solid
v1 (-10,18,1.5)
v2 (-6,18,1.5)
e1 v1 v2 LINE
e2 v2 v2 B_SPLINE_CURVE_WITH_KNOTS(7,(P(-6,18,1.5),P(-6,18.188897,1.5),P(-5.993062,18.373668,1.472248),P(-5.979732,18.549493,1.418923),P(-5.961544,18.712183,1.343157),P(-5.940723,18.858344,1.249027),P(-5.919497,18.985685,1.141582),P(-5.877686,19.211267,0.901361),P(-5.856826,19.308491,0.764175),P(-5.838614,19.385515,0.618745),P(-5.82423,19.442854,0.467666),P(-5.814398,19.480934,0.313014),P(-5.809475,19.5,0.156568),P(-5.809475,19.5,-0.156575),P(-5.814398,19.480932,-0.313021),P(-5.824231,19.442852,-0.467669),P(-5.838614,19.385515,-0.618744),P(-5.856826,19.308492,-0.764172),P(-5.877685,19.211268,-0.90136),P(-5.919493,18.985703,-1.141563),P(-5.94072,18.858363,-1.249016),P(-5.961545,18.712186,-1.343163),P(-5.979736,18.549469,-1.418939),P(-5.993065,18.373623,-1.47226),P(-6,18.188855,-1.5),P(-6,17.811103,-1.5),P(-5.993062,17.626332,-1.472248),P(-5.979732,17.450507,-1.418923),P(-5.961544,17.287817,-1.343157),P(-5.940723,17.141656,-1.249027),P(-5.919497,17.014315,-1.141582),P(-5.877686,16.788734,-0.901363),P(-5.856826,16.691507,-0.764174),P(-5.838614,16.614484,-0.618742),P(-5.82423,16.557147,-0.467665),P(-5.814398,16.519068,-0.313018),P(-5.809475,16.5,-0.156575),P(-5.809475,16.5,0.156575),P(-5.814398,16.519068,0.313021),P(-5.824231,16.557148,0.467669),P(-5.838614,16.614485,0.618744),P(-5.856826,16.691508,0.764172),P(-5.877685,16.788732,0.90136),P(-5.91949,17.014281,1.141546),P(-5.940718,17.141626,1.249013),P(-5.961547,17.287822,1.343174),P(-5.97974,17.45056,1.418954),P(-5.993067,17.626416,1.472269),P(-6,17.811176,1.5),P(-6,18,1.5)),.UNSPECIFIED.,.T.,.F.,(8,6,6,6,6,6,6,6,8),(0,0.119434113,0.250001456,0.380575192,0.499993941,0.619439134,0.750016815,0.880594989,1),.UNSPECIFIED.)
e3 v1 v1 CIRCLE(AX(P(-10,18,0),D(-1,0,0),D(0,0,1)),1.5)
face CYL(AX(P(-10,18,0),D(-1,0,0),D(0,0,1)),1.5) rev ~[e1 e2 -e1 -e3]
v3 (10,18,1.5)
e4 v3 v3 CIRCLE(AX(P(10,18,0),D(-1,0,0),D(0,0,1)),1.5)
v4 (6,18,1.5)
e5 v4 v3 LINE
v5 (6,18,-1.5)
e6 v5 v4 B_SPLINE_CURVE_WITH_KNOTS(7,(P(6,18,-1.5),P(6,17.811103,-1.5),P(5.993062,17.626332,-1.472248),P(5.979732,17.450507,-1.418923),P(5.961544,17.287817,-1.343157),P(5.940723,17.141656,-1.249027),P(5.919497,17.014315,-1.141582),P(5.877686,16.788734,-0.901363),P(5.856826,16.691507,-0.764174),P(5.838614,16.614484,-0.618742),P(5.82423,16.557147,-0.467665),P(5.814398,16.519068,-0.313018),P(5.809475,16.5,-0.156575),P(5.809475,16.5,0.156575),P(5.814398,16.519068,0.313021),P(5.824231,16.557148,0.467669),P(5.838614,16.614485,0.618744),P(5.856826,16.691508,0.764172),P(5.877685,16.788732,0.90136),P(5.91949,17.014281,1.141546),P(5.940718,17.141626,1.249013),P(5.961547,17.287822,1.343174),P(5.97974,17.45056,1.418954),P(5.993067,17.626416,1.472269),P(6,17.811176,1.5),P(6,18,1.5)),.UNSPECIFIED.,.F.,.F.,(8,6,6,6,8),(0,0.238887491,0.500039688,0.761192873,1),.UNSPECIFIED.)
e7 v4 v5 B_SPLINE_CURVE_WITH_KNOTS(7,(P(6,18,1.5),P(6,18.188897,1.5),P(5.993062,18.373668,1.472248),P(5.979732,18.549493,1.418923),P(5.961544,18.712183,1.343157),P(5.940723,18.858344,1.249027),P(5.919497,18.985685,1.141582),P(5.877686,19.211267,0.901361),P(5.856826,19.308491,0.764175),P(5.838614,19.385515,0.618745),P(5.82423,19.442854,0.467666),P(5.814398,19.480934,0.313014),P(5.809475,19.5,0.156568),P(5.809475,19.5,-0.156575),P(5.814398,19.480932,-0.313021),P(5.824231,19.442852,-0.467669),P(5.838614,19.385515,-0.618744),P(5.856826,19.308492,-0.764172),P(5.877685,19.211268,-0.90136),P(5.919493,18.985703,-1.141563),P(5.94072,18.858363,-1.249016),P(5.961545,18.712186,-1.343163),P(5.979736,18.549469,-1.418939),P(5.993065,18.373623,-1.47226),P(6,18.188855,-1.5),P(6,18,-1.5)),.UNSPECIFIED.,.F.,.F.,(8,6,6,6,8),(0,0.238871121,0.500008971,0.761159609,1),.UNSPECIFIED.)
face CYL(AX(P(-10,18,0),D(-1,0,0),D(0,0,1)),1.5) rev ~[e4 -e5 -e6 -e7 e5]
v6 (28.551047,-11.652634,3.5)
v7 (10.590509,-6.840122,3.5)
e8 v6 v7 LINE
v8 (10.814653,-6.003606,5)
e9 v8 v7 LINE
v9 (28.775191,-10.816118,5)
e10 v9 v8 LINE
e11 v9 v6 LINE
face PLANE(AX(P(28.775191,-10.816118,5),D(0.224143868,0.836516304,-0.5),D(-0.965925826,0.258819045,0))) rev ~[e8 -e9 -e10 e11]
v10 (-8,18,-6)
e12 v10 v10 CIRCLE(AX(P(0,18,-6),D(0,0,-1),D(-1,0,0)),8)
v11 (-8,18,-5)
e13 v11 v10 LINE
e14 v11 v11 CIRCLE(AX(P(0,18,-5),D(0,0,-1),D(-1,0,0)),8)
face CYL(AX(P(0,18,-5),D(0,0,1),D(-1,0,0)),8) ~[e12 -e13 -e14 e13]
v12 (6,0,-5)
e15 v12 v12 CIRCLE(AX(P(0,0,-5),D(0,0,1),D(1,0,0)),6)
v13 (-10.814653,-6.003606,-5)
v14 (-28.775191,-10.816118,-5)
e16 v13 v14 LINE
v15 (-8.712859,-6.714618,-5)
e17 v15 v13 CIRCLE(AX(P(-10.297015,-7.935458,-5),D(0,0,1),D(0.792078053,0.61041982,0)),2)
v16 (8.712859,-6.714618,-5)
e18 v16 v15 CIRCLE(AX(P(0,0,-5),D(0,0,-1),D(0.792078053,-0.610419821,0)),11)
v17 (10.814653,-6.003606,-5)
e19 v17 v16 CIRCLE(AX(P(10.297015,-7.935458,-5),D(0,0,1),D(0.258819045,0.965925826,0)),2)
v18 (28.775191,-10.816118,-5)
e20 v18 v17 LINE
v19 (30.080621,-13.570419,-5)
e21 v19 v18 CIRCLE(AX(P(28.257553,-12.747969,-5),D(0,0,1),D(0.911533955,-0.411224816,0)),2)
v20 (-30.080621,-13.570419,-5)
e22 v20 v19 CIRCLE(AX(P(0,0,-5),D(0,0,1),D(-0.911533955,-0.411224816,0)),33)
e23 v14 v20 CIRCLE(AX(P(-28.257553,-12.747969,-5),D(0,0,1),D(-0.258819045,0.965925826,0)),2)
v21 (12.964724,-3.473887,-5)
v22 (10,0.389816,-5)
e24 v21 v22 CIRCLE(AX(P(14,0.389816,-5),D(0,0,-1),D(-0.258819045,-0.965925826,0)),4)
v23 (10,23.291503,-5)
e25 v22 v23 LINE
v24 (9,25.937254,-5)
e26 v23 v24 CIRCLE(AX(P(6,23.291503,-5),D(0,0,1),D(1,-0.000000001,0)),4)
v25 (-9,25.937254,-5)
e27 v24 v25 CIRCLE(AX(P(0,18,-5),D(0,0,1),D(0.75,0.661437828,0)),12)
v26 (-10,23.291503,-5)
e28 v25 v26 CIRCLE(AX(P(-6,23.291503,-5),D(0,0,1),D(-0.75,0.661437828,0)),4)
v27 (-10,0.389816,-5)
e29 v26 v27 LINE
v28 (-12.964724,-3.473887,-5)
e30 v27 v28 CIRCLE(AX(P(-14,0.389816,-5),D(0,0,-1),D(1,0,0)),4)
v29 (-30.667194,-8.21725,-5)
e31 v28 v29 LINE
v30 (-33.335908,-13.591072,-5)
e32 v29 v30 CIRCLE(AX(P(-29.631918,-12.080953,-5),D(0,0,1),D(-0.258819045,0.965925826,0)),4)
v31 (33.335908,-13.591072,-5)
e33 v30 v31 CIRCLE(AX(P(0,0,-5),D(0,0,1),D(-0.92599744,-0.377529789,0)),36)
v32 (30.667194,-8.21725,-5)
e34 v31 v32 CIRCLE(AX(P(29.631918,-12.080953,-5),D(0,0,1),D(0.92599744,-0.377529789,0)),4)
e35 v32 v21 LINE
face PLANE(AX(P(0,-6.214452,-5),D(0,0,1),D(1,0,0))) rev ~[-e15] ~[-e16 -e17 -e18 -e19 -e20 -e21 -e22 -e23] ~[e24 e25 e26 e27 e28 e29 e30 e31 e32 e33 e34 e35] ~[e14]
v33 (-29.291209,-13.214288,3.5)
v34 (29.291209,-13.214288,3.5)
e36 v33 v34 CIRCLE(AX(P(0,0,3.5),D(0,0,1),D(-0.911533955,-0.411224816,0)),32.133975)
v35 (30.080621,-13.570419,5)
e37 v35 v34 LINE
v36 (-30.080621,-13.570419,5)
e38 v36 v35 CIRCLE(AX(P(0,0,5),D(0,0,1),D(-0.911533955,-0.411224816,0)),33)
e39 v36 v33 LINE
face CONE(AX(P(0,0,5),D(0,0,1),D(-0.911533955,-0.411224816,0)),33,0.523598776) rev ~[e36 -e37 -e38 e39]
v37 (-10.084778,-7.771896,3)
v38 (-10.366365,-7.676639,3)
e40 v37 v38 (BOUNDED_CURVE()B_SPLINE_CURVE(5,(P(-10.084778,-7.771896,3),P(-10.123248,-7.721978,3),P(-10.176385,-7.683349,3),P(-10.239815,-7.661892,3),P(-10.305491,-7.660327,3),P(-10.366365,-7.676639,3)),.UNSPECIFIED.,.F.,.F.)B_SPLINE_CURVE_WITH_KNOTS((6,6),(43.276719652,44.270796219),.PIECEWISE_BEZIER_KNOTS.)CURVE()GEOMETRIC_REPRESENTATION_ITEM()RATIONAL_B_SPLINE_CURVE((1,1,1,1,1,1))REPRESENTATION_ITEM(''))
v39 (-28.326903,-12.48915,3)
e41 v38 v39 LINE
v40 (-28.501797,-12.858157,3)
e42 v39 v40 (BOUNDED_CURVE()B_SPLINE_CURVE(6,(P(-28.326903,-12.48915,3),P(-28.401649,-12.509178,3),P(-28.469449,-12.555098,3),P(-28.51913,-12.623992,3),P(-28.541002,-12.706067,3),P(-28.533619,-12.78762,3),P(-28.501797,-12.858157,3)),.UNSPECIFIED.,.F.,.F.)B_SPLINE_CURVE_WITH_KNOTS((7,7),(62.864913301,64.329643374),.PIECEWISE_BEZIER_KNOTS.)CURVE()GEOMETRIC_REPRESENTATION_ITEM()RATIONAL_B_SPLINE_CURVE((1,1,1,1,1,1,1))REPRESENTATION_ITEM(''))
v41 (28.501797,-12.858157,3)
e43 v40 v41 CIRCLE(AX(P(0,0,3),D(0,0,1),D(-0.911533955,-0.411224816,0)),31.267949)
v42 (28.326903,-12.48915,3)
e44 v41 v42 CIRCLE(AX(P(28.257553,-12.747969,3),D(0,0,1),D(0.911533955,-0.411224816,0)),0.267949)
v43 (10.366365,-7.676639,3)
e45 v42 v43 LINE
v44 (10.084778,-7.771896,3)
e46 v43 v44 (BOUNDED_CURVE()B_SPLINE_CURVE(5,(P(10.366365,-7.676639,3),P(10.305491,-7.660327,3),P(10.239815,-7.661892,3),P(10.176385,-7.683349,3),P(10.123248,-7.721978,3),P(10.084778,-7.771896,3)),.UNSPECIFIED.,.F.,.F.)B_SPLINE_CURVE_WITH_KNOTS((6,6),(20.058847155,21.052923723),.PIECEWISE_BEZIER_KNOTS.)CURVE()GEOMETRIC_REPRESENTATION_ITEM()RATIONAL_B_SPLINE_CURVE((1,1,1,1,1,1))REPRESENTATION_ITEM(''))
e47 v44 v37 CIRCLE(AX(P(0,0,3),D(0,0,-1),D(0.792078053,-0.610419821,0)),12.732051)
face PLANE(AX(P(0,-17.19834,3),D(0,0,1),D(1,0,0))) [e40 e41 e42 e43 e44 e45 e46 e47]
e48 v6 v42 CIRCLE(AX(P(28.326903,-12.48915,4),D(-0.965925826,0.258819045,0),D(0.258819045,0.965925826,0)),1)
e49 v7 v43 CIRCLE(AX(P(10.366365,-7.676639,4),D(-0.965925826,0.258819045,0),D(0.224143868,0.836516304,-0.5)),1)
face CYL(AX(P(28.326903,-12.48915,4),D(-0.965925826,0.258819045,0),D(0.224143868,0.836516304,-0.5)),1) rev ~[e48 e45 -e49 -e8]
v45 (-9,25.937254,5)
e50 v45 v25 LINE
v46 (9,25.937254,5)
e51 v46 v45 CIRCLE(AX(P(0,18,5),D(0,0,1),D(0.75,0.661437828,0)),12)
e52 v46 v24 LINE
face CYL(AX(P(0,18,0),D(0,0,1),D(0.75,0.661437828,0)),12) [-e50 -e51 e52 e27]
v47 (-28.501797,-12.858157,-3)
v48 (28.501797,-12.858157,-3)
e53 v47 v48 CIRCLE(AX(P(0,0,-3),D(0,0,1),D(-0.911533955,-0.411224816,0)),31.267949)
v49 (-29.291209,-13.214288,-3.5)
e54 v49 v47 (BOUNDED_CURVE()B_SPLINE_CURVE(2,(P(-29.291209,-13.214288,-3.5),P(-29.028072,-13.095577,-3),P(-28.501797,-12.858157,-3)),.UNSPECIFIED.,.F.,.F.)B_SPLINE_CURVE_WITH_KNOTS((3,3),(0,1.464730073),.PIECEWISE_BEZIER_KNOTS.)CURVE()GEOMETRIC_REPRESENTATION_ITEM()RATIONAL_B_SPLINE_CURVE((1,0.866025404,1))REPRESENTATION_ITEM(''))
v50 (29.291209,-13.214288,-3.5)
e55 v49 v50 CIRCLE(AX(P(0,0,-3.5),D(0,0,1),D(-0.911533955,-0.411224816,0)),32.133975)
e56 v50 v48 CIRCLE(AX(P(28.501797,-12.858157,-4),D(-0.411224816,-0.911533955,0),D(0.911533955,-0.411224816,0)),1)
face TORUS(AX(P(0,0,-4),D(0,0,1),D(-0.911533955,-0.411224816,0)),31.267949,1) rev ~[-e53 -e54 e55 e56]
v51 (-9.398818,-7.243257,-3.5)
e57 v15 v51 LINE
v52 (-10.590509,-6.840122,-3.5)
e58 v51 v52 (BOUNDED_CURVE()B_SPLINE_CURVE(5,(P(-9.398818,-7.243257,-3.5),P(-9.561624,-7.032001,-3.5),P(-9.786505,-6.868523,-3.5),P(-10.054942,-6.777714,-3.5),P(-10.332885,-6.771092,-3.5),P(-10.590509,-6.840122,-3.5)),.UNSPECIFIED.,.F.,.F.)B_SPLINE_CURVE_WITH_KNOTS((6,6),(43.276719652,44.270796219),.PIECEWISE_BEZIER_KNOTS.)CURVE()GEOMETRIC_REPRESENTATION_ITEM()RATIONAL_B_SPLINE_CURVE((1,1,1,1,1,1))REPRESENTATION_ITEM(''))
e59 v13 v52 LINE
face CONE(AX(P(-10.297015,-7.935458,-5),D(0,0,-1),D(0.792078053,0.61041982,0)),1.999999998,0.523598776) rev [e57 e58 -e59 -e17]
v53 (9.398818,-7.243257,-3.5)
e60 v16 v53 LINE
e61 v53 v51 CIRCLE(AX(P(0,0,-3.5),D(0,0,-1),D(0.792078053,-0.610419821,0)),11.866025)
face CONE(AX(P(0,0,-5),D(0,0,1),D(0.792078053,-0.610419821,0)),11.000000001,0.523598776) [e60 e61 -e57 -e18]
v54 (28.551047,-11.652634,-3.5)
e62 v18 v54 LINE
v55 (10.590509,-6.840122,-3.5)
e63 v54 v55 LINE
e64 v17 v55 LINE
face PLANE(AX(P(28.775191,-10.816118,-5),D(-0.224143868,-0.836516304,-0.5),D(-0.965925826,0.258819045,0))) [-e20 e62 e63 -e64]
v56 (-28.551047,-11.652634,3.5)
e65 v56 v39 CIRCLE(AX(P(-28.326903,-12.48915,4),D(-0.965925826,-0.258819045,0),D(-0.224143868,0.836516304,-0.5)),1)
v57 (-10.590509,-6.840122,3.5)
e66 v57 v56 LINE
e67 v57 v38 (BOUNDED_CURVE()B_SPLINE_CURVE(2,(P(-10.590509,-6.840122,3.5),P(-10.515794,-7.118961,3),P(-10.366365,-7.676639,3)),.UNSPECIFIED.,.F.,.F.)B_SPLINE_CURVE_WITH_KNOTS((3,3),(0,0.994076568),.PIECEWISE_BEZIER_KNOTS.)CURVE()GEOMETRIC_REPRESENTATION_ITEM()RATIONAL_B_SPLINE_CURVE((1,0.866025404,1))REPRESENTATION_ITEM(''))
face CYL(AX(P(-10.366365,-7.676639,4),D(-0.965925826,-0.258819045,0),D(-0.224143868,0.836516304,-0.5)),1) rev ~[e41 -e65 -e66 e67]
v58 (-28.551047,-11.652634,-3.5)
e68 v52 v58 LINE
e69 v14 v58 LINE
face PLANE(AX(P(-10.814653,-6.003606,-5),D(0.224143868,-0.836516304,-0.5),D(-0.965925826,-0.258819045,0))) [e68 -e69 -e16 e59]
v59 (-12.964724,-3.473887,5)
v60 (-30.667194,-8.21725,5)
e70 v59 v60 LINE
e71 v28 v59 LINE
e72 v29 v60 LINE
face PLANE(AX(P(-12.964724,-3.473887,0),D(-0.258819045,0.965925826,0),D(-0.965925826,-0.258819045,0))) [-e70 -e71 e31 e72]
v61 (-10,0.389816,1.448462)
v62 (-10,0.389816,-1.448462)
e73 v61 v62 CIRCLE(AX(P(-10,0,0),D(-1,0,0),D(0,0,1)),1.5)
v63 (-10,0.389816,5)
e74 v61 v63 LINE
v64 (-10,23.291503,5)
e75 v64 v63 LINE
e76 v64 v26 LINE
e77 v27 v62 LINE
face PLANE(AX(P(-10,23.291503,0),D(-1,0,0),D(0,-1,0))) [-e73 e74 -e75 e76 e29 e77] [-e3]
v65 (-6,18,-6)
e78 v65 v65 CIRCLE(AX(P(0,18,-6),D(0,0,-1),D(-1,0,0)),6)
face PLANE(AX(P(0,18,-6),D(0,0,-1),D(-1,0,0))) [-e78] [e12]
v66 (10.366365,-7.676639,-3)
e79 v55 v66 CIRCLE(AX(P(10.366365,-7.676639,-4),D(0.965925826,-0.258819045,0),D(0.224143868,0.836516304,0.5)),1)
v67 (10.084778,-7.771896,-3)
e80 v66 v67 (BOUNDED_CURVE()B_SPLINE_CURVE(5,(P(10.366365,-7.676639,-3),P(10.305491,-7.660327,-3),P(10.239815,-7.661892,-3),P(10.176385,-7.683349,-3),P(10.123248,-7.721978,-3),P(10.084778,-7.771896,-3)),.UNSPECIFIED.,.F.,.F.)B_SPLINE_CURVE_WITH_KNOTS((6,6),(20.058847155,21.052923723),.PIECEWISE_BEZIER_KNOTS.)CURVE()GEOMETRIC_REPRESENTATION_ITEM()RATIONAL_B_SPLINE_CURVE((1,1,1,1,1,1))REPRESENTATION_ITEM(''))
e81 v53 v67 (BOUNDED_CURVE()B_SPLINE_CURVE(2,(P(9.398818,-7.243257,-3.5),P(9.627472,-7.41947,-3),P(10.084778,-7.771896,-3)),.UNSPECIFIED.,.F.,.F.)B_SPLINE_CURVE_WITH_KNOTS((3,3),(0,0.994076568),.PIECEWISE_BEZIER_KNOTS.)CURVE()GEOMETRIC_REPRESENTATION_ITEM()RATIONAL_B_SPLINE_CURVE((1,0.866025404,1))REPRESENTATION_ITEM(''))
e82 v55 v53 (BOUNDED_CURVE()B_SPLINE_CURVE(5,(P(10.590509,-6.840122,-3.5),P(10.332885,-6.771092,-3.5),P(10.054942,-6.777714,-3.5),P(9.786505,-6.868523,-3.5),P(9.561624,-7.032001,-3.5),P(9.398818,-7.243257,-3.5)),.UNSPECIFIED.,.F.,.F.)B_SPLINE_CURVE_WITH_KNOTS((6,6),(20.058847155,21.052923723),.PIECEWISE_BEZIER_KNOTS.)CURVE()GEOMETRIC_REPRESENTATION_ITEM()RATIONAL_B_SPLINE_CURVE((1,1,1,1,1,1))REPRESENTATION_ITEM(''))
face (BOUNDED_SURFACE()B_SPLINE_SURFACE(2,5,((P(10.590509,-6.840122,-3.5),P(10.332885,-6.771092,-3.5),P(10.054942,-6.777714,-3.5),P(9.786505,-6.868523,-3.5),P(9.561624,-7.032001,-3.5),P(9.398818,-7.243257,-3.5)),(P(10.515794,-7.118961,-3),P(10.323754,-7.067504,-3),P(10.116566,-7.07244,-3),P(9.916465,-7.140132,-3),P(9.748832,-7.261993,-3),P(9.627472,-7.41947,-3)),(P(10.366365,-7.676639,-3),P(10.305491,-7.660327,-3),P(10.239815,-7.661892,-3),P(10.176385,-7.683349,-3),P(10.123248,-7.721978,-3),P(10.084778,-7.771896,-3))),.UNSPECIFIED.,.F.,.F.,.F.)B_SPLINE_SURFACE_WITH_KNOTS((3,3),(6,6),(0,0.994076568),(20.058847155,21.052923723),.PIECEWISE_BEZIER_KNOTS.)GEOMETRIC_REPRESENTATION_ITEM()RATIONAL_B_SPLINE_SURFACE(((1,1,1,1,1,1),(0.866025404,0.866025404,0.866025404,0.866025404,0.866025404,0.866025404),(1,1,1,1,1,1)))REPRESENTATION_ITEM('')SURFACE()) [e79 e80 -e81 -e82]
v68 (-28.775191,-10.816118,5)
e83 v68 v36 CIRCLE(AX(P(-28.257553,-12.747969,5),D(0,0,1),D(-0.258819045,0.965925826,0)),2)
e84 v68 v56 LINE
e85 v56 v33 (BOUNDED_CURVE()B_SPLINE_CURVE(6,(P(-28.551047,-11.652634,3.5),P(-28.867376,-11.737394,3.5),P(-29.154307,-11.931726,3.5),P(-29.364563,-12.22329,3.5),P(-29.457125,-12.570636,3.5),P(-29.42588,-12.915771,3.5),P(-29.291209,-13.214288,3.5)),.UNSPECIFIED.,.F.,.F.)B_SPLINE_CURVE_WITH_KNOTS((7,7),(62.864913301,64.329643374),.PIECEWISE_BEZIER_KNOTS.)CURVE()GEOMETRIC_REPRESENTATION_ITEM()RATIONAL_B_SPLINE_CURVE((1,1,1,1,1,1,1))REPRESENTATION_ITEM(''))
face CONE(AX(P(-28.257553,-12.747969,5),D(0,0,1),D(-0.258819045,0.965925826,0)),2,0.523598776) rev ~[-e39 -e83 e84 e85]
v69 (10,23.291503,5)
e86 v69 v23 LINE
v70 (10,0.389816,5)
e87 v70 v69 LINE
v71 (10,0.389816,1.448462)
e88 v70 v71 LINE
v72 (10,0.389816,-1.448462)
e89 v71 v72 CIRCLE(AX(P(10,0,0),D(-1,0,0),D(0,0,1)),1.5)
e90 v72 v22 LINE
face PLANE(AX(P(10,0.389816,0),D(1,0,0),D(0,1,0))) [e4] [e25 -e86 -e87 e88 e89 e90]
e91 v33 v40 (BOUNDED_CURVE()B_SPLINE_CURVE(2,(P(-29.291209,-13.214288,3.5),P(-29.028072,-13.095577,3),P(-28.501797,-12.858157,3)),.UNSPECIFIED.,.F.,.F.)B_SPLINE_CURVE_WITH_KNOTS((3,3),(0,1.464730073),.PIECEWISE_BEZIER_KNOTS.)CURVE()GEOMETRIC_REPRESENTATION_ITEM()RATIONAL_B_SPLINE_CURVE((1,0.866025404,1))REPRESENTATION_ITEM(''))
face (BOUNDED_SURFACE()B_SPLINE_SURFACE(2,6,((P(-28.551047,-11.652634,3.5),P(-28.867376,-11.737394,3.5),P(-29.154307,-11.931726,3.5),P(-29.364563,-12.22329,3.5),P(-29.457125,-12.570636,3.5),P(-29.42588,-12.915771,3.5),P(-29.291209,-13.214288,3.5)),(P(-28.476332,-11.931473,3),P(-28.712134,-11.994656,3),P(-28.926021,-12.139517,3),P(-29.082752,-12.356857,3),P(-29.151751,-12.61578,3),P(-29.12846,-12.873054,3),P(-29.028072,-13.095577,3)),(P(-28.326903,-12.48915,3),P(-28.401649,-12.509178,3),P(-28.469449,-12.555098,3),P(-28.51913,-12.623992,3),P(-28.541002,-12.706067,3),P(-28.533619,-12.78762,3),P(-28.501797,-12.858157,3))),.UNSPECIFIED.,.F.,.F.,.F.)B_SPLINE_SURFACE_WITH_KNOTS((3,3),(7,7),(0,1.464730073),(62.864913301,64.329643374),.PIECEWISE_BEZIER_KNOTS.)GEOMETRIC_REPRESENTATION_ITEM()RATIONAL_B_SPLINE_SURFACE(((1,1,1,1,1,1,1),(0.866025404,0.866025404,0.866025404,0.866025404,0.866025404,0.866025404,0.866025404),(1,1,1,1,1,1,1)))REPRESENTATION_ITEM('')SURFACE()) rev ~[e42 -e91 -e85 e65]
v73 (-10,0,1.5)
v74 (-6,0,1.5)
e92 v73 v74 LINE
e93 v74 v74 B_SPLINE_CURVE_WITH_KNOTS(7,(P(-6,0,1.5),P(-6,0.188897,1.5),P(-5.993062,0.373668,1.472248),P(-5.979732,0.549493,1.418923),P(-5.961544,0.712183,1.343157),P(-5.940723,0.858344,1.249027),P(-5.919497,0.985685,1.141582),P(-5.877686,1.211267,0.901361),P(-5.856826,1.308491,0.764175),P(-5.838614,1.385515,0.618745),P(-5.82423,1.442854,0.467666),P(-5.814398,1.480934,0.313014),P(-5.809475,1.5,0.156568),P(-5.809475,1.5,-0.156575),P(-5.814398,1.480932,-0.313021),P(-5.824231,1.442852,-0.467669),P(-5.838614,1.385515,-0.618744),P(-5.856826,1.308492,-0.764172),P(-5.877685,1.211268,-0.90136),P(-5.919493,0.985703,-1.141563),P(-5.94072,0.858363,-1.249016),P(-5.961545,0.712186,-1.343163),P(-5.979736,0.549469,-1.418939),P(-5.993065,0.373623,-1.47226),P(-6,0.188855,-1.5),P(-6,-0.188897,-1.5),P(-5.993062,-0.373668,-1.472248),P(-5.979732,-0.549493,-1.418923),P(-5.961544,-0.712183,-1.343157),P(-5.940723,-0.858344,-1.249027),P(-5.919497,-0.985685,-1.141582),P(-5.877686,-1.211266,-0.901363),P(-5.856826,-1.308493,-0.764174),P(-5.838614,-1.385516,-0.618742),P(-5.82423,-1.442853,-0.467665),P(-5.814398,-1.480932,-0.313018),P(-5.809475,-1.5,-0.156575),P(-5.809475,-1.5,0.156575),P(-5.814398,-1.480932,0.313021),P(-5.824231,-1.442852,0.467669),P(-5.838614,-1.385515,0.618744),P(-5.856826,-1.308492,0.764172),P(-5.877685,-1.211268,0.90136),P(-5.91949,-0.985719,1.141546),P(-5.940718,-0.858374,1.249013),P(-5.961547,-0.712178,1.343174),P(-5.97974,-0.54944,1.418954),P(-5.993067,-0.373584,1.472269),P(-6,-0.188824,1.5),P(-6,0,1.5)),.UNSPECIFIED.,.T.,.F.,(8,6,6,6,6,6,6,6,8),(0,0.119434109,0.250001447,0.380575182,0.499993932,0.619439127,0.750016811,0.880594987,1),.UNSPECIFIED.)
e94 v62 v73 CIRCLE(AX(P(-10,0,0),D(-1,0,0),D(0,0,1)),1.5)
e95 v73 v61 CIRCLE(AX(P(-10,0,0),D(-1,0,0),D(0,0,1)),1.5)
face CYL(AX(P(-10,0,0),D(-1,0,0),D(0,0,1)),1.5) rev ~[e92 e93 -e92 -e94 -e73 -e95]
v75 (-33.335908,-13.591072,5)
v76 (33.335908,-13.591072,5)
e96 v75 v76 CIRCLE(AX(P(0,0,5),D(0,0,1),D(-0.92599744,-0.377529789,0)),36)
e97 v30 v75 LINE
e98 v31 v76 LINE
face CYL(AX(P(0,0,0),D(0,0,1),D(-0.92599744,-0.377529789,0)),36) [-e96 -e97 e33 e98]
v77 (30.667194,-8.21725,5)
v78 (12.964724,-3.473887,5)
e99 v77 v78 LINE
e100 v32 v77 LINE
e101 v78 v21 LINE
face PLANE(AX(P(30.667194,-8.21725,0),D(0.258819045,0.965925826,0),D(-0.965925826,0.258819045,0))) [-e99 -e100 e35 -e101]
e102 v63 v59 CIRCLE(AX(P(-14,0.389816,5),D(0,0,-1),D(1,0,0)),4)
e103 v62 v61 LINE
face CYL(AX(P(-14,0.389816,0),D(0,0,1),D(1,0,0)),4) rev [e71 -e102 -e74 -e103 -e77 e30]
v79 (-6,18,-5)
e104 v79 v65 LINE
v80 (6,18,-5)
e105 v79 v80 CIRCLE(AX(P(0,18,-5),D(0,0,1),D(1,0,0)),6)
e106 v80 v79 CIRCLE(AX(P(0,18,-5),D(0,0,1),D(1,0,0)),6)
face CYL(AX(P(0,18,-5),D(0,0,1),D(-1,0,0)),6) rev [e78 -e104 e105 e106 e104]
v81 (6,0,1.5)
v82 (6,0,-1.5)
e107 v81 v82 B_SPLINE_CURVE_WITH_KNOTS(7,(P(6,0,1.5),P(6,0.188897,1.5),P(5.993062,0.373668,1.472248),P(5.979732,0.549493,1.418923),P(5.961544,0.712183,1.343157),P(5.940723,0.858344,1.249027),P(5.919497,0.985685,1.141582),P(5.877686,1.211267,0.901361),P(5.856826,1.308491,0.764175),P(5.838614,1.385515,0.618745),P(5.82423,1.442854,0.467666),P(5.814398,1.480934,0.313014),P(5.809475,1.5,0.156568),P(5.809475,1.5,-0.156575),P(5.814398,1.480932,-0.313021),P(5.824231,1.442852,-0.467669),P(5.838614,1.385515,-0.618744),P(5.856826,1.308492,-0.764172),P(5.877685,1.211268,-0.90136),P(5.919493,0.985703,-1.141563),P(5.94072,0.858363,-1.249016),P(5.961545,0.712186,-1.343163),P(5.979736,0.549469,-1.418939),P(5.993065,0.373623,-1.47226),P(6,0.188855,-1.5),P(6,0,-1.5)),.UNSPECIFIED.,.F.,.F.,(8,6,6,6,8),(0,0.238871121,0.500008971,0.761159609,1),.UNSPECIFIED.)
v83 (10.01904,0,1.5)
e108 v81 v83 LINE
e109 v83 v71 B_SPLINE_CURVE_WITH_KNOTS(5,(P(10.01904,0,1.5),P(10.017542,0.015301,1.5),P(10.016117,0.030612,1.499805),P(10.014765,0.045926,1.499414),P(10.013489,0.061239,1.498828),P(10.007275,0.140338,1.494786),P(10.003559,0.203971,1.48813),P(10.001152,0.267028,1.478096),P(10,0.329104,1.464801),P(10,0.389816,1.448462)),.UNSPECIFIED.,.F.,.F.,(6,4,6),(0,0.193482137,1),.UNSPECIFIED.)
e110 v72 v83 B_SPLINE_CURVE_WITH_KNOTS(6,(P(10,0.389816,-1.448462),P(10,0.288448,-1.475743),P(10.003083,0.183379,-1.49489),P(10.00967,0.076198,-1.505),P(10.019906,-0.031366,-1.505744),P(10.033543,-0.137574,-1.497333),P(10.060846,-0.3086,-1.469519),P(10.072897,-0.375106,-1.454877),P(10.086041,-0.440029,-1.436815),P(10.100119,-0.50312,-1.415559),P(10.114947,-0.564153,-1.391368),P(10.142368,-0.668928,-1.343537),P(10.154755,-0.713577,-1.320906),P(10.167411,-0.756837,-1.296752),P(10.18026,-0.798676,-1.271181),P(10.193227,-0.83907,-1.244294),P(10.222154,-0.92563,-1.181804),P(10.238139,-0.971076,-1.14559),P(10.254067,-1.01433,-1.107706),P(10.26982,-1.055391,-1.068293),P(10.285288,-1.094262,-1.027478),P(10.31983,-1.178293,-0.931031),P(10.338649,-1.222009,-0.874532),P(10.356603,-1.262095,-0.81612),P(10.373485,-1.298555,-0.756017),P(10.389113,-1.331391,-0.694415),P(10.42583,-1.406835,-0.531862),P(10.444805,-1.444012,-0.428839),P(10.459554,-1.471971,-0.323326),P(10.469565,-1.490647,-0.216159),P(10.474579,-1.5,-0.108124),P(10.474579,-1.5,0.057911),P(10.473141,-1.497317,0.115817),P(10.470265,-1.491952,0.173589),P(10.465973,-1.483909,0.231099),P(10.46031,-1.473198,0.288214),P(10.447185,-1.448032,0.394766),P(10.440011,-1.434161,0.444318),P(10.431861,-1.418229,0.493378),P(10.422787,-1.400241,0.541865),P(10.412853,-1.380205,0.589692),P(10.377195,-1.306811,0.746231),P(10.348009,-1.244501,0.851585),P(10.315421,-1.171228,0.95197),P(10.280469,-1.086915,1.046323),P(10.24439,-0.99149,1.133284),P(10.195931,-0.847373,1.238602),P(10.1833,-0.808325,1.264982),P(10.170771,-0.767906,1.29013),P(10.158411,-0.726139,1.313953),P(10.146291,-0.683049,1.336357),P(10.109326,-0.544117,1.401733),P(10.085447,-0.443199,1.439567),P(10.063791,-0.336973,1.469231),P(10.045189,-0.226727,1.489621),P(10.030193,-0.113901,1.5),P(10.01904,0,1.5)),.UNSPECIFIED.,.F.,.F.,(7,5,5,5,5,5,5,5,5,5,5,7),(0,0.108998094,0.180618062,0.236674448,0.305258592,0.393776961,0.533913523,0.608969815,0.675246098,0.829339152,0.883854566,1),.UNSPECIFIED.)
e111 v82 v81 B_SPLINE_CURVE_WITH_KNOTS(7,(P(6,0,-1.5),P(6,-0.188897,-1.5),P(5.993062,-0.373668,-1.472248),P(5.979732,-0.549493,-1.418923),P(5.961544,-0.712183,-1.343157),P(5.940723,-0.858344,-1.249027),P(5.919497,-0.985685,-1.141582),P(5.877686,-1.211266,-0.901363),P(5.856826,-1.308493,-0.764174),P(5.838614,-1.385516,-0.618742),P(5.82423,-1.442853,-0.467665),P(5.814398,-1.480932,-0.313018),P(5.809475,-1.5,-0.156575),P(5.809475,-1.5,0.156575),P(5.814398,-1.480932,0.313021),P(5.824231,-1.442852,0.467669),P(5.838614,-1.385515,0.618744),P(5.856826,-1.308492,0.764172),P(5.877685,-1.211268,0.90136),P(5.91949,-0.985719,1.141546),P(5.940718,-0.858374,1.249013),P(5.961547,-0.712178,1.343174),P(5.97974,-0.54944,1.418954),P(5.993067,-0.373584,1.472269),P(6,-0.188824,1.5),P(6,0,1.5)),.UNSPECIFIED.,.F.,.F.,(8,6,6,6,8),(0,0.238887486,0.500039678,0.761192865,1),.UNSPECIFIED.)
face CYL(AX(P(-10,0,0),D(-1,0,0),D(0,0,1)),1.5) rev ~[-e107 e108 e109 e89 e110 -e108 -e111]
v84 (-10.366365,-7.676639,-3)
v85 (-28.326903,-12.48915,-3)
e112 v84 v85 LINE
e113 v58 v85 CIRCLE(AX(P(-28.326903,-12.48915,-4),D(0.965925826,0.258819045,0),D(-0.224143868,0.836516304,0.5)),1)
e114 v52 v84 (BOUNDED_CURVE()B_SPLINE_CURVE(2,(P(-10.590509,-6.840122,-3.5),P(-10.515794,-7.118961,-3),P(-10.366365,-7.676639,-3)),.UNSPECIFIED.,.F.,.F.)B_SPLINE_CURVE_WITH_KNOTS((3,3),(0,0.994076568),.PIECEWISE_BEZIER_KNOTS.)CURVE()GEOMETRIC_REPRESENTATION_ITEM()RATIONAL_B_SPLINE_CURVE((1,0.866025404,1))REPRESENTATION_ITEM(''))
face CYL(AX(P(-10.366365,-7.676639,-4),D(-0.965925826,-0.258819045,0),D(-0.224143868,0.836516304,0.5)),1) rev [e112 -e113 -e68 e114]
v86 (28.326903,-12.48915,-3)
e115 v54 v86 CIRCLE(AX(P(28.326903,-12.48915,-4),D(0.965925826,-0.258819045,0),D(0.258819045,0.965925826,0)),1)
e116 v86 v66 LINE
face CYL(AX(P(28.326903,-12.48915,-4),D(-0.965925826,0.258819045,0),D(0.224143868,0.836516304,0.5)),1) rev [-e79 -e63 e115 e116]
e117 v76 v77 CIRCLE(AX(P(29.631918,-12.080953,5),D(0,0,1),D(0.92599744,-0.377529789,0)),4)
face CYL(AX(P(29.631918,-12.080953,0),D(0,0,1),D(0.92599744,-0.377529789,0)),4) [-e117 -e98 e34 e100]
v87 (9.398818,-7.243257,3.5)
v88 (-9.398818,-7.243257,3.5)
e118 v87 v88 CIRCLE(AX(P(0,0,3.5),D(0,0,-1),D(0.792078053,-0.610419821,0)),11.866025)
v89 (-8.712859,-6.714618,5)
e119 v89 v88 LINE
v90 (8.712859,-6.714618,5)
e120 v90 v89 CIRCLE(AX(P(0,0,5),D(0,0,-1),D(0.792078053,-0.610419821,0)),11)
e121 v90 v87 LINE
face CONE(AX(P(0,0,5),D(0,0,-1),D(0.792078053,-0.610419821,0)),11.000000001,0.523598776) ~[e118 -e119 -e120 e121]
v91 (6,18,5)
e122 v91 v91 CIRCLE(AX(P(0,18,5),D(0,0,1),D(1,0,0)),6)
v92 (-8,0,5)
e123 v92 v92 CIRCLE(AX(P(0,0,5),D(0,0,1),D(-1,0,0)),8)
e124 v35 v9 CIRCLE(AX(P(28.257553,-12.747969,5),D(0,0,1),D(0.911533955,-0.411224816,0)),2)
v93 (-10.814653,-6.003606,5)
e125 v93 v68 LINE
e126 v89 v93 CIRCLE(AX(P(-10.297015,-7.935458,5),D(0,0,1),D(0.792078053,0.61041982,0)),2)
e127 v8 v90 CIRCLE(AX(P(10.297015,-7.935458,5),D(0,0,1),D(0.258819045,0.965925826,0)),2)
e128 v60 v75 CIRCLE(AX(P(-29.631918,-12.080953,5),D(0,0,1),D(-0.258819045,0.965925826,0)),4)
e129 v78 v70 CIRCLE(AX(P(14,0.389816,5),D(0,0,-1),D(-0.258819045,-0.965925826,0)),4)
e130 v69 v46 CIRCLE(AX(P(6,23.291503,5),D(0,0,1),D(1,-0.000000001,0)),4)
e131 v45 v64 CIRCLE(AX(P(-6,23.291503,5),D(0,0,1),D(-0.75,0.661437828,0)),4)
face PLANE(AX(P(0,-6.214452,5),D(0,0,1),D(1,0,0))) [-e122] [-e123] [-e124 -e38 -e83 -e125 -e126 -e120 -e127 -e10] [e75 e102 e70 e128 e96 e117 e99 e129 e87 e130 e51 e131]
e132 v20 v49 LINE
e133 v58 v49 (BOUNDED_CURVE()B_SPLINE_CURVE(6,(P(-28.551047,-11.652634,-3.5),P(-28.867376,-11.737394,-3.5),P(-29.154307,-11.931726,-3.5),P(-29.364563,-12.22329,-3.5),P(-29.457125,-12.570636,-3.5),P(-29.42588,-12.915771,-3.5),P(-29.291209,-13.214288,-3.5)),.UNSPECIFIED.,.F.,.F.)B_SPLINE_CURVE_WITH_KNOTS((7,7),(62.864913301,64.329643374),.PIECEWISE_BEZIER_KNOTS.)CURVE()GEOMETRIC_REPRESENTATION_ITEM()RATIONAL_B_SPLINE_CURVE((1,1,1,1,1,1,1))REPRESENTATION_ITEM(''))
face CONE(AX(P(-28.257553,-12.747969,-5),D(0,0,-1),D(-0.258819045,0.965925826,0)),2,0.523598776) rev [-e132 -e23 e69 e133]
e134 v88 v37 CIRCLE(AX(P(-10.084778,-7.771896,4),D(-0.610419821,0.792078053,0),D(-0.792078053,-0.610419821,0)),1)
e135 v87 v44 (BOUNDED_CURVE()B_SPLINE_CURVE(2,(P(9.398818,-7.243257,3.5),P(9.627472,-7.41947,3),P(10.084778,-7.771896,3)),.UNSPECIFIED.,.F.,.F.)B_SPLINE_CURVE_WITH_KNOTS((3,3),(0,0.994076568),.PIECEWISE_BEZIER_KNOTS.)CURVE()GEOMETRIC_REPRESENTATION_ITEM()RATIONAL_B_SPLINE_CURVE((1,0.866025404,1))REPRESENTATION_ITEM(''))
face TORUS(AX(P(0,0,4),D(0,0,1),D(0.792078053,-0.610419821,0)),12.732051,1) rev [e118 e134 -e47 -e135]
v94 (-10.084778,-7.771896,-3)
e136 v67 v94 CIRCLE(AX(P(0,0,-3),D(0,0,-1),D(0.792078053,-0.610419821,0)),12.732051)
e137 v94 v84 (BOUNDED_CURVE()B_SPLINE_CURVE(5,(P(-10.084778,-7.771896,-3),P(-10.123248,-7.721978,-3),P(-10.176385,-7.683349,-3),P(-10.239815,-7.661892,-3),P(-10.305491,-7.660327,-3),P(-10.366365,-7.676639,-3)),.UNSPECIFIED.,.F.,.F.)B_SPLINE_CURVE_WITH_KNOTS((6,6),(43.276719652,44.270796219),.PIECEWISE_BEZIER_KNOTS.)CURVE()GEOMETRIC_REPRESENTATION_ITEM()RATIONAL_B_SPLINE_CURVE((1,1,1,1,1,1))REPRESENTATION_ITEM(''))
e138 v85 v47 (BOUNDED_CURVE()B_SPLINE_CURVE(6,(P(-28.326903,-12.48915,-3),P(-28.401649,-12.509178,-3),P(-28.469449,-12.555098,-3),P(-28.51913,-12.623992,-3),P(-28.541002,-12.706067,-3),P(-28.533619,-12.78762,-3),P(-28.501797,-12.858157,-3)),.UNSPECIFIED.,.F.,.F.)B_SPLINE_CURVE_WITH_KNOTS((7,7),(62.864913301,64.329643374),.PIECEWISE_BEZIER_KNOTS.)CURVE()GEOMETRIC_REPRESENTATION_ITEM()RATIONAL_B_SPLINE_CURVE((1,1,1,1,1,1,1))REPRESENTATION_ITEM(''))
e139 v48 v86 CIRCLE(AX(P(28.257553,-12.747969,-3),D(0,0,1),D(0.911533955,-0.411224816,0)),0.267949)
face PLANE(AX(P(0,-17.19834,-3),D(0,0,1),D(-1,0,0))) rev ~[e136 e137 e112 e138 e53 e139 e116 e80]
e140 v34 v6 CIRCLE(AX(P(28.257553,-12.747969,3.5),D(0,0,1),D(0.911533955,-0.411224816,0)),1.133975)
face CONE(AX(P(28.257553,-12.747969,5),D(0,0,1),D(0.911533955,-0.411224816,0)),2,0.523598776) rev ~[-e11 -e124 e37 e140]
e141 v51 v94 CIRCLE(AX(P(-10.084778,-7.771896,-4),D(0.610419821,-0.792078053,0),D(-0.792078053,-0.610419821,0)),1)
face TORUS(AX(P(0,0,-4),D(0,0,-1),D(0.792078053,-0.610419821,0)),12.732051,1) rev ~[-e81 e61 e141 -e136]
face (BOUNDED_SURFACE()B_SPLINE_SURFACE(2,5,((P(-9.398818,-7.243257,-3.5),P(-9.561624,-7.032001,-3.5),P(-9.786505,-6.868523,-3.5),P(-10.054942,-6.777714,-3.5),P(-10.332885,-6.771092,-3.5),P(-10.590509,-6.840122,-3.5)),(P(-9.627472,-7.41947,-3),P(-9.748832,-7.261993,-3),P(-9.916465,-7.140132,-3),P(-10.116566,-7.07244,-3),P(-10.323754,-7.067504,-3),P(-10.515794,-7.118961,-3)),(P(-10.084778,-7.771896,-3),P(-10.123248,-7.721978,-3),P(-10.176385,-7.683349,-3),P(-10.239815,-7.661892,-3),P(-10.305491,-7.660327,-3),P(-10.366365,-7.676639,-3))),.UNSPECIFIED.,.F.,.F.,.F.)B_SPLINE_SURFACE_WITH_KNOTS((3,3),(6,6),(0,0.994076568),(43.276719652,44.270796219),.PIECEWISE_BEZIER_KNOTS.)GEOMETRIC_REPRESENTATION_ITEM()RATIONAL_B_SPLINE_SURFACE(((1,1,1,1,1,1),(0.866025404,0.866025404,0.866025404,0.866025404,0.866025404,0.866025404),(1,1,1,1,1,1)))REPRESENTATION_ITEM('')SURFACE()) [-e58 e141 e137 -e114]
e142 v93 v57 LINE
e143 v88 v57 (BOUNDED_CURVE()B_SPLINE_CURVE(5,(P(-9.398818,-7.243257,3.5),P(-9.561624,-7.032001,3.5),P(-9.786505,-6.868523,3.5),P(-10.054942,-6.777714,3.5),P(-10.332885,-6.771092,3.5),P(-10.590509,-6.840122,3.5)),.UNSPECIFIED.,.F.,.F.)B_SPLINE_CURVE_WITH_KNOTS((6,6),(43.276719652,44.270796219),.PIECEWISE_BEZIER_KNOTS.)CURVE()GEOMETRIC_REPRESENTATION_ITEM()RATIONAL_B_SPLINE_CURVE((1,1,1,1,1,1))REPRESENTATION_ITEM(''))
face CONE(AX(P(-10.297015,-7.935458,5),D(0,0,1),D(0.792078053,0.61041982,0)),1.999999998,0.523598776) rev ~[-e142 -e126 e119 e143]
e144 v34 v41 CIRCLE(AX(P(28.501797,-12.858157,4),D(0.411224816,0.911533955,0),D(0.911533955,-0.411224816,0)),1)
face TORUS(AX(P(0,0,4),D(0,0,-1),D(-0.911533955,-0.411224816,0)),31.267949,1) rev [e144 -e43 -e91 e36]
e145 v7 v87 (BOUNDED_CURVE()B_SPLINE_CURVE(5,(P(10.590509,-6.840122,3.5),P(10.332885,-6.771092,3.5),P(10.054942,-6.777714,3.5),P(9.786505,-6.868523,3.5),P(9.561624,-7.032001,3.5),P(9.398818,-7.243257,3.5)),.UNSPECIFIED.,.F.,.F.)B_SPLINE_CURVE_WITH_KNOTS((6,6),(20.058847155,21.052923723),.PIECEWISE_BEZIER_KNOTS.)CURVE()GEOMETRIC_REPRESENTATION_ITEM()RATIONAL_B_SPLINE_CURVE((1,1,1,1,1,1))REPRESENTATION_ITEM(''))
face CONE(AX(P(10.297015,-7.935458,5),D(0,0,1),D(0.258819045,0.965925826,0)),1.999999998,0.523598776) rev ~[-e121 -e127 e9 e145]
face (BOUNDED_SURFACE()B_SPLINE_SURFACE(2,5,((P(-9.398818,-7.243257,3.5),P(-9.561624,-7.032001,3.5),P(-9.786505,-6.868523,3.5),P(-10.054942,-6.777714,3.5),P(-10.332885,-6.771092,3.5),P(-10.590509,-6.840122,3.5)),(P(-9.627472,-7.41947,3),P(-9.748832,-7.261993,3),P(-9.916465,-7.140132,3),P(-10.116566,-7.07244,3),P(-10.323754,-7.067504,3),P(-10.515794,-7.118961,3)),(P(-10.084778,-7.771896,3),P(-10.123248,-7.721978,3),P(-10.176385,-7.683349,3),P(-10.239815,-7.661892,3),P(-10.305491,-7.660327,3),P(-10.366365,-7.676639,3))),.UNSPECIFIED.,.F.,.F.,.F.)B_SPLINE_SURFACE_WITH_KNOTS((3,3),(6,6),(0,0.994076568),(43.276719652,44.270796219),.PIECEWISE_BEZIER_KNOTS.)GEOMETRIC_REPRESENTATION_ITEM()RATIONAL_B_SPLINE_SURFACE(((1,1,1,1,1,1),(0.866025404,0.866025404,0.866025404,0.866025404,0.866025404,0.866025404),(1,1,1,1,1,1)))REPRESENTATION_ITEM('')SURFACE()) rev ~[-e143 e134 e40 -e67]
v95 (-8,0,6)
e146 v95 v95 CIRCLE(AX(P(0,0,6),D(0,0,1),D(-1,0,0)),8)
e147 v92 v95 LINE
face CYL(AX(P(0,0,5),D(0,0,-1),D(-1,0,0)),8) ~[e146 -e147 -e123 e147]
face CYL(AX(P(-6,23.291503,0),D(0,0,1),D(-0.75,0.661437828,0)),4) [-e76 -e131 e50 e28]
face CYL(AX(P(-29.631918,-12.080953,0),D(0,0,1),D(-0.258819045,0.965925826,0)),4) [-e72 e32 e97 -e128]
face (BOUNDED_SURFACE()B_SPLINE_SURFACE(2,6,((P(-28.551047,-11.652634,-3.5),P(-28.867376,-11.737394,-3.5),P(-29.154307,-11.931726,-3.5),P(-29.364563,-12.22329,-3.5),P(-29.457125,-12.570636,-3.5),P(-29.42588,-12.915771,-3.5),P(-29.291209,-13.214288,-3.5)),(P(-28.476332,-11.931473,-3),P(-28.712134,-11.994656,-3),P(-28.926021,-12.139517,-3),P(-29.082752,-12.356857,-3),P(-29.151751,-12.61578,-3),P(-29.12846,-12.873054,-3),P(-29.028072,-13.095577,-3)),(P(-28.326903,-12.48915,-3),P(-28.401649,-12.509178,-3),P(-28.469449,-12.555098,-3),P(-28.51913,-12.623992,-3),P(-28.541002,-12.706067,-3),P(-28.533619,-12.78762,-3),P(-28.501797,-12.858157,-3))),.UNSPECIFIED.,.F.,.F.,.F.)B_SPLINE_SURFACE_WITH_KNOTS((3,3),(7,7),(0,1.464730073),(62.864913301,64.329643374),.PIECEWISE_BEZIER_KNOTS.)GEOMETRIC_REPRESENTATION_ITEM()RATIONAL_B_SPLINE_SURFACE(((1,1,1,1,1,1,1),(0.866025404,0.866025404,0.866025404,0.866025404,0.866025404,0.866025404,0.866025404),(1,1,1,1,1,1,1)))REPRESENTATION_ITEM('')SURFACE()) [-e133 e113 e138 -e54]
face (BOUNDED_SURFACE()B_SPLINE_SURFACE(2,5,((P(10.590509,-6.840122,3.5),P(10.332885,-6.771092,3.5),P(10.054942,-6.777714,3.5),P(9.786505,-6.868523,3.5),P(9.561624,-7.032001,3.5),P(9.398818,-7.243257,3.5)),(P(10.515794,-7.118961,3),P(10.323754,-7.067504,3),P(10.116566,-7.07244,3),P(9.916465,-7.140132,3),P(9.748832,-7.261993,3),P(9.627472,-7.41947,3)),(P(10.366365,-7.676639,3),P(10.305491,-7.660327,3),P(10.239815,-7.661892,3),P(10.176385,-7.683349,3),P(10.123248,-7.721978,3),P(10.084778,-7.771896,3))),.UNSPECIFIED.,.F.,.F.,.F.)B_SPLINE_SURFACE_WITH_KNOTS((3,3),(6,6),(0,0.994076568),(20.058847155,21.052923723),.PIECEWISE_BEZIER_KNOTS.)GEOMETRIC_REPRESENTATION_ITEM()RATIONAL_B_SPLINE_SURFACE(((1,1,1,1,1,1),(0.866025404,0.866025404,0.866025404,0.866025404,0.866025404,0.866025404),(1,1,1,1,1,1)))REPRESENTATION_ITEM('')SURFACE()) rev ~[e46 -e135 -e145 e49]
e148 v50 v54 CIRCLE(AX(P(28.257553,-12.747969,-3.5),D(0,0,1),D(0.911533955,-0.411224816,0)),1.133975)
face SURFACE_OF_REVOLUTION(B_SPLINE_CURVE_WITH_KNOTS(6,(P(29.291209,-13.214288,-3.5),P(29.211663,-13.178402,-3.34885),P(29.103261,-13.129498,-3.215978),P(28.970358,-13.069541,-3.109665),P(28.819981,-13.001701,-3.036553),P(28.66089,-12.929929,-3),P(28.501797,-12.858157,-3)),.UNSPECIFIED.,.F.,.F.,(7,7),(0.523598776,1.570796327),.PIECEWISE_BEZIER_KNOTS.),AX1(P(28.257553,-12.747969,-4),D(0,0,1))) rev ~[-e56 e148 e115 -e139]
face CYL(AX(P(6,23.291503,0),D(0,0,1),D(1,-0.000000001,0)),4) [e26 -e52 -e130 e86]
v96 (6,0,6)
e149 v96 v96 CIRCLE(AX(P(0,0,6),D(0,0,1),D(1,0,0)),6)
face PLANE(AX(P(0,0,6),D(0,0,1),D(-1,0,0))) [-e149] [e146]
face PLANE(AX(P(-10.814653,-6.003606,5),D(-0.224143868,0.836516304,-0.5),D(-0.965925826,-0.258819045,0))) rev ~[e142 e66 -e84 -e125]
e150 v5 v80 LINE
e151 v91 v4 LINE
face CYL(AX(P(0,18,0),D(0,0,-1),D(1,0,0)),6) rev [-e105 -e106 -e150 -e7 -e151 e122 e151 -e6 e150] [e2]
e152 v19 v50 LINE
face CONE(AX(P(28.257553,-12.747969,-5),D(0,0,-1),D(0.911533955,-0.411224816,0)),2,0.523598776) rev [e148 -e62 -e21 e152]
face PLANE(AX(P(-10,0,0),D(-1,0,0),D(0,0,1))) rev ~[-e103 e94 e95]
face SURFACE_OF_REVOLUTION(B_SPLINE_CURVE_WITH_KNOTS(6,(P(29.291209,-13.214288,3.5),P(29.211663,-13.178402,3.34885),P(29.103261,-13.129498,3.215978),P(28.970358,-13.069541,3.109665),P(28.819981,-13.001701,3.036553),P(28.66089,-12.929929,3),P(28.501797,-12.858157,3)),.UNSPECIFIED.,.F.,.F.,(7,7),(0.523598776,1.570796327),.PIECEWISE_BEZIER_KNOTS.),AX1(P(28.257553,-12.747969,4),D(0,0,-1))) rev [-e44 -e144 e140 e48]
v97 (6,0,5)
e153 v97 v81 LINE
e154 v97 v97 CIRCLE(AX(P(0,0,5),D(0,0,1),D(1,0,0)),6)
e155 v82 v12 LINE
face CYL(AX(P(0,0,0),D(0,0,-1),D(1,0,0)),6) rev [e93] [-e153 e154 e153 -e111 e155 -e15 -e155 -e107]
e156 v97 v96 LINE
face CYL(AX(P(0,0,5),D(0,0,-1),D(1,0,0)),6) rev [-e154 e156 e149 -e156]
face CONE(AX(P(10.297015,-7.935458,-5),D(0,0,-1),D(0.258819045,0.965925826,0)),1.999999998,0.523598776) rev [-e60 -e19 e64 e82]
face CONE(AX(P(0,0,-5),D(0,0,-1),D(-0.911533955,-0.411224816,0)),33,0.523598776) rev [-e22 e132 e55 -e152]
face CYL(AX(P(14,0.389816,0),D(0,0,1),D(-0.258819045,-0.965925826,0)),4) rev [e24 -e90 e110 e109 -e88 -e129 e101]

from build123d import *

# Parameters (mm, degrees)
SKETCH1_R            = 6
BOSS_EXTRUDE1_DEPTH  = 5
CUT_EXTRUDE1_DEPTH   = 2
CUT_EXTRUDE1_DRAFT   = -30
FILLET1_R            = 1
MIRROR2_COPY_1_DEPTH = 2
MIRROR2_COPY_1_DRAFT = -30
FILLET1_OF_MIRROR2_R = 1
SKETCH3_R            = 8
SKETCH3_R_2          = 6
BOSS_EXTRUDE2_DEPTH  = 1
SKETCH4_R            = 8
SKETCH4_R_2          = 6
BOSS_EXTRUDE3_DEPTH  = 1
SKETCH5_R            = 1.5
CUT_EXTRUDE2_DEPTH   = 57.883602865


with BuildPart() as part:
    # Sketch1 → Boss-Extrude1 (new, symmetric)
    with BuildSketch(Plane.XY):
        with BuildLine():
            Line((-10, 23.291502622), (-10, 0.389816028))
            ThreePointArc((-10, 0.389816028), (-10.826586639, -2.045229688), (-12.96472382, -3.473887278))
            Line((-12.96472382, -3.473887278), (-30.667194256, -8.217249935))
            ThreePointArc((-30.667194256, -8.217249935), (-33.214466382, -10.301810854), (-33.335907835, -13.591072395))
            ThreePointArc((-33.335907835, -13.591072395), (0, -36), (33.335907835, -13.591072395))
            ThreePointArc((33.335907835, -13.591072395), (33.214466382, -10.301810854), (30.667194256, -8.217249935))
            Line((30.667194256, -8.217249935), (12.96472382, -3.473887278))
            ThreePointArc((12.96472382, -3.473887278), (10.826586639, -2.045229688), (10, 0.389816028))
            Line((10, 0.389816028), (10, 23.291502622))
            ThreePointArc((10, 23.291502622), (9.741657387, 24.705716185), (9, 25.937253933))
            ThreePointArc((9, 25.937253933), (0, 30), (-9, 25.937253933))
            ThreePointArc((-9, 25.937253933), (-9.741657387, 24.705716185), (-10, 23.291502622))
        make_face()
        Circle(SKETCH1_R, mode=Mode.SUBTRACT)
        with Locations((0, 18)):
            Circle(SKETCH1_R, mode=Mode.SUBTRACT)
    extrude(amount=BOSS_EXTRUDE1_DEPTH, both=True)


with BuildPart() as cut_extrude1_tool:
    # Sketch2 → Cut-Extrude1 (with draft: the straight prism first)
    with BuildSketch(Plane.XY.offset(5)):
        with BuildLine():
            ThreePointArc((-28.775190686, -10.816117648), (-30.064835096, -11.891388911), (-30.080620505, -13.570418933))
            ThreePointArc((-30.080620505, -13.570418933), (0, -33), (30.080620505, -13.570418933))
            ThreePointArc((30.080620505, -13.570418933), (30.064835096, -11.891388911), (28.775190686, -10.816117648))
            Line((28.775190686, -10.816117648), (10.81465278, -6.00360602))
            ThreePointArc((10.81465278, -6.00360602), (9.656117125, -6.040925986), (8.712858584, -6.714618031))
            ThreePointArc((8.712858584, -6.714618031), (0, -11), (-8.712858584, -6.714618031))
            ThreePointArc((-8.712858584, -6.714618031), (-9.656117125, -6.040925986), (-10.81465278, -6.00360602))
            Line((-10.81465278, -6.00360602), (-28.775190686, -10.816117648))
        make_face()
    extrude(amount=-CUT_EXTRUDE1_DEPTH)
    # Cut-Extrude1: the draft: its side faces are tilted about the plane it starts from
    cut_extrude1_sides = [cut_extrude1_tool.faces().sort_by_distance(p)[0] for p in [
        (-9.656117125, -6.040925986, 4),
        (-19.794921733, -8.409861834, 4),
        (-30.064835096, -11.891388911, 4),
        (0, -33, 4),
        (30.064835096, -11.891388911, 4),
        (19.794921733, -8.409861834, 4),
        (9.656117125, -6.040925986, 4),
        (0, -11, 4),
    ]]
    draft(cut_extrude1_sides, Plane.XY.offset(5), CUT_EXTRUDE1_DRAFT)


with BuildPart() as part_1:
    add(part.part)

    # Cut-Extrude1: cut by cut_extrude1_tool
    add(cut_extrude1_tool.part, mode=Mode.SUBTRACT)

    # Fillet1
    fillet1_edges = [part_1.edges().sort_by_distance(p)[0] for p in [
        (29.021400058, -12.385935829, 3),
        (0, -31.845299462, 3),
        (-29.021400058, -12.385935829, 3),
        (-19.496063242, -9.525216906, 3),
        (-10.026139506, -7.134734365, 3),
        (0, -12.154700538, 3),
        (10.026139506, -7.134734365, 3),
        (19.496063242, -9.525216906, 3),
    ]]
    fillet(fillet1_edges, radius=FILLET1_R)


with BuildPart() as mirror2_copy_1_tool:
    # Mirror2 copy 1 sketch → Mirror2 copy 1 (with draft: the straight prism first)
    with BuildSketch(Plane(origin=(0, 0, -5), x_dir=(1, 0, 0), z_dir=(0, 0, -1))):
        with BuildLine():
            ThreePointArc((-28.775190686, 10.816117648), (-30.064835096, 11.891388911), (-30.080620505, 13.570418933))
            ThreePointArc((-30.080620505, 13.570418933), (0, 33), (30.080620505, 13.570418933))
            ThreePointArc((30.080620505, 13.570418933), (30.064835096, 11.891388911), (28.775190686, 10.816117648))
            Line((28.775190686, 10.816117648), (10.81465278, 6.00360602))
            ThreePointArc((10.81465278, 6.00360602), (9.656117125, 6.040925986), (8.712858584, 6.714618031))
            ThreePointArc((8.712858584, 6.714618031), (0, 11), (-8.712858584, 6.714618031))
            ThreePointArc((-8.712858584, 6.714618031), (-9.656117125, 6.040925986), (-10.81465278, 6.00360602))
            Line((-10.81465278, 6.00360602), (-28.775190686, 10.816117648))
        make_face()
    extrude(amount=-MIRROR2_COPY_1_DEPTH)
    # Mirror2 copy 1: the draft: its side faces are tilted about the plane it starts from
    mirror2_copy_1_sides = [mirror2_copy_1_tool.faces().sort_by_distance(p)[0] for p in [
        (-9.656117125, -6.040925986, -4),
        (-19.794921733, -8.409861834, -4),
        (-30.064835096, -11.891388911, -4),
        (0, -33, -4),
        (30.064835096, -11.891388911, -4),
        (19.794921733, -8.409861834, -4),
        (9.656117125, -6.040925986, -4),
        (0, -11, -4),
    ]]
    draft(mirror2_copy_1_sides, Plane(origin=(0, 0, -5), x_dir=(1, 0, 0), z_dir=(0, 0, -1)), MIRROR2_COPY_1_DRAFT)


with BuildPart() as part_2:
    add(part_1.part)

    # Mirror2 copy 1: cut by mirror2_copy_1_tool
    add(mirror2_copy_1_tool.part, mode=Mode.SUBTRACT)

    # Fillet1 of Mirror2
    fillet1_of_mirror2_edges = [part_2.edges().sort_by_distance(p)[0] for p in [
        (29.021400058, -12.385935829, -3),
        (0, -31.845299462, -3),
        (-29.021400058, -12.385935829, -3),
        (-19.496063242, -9.525216906, -3),
        (-10.026139506, -7.134734365, -3),
        (0, -12.154700538, -3),
        (10.026139506, -7.134734365, -3),
        (19.496063242, -9.525216906, -3),
    ]]
    fillet(fillet1_of_mirror2_edges, radius=FILLET1_OF_MIRROR2_R)

    # Sketch3 → Boss-Extrude2 (add)
    with BuildSketch(Plane(origin=(0, 0, -5), x_dir=(-1, 0, 0), z_dir=(0, 0, -1))):
        with Locations((0, 18)):
            Circle(SKETCH3_R)
        with Locations((0, 18)):
            Circle(SKETCH3_R_2, mode=Mode.SUBTRACT)
    extrude(amount=BOSS_EXTRUDE2_DEPTH)

    # Sketch4 → Boss-Extrude3 (add)
    with BuildSketch(Plane.XY.offset(5)):
        with Locations(Location((0, 0, 0), (0, 0, 180))):
            Circle(SKETCH4_R)
        Circle(SKETCH4_R_2, mode=Mode.SUBTRACT)
    extrude(amount=BOSS_EXTRUDE3_DEPTH)

    # Sketch5 → Cut-Extrude2 (cut, through all)
    with BuildSketch(Plane.ZY.offset(10)):
        with Locations((0, 18)):
            Circle(SKETCH5_R)
        Circle(SKETCH5_R)
    extrude(amount=-CUT_EXTRUDE2_DEPTH, mode=Mode.SUBTRACT)


solid = part_2.part
